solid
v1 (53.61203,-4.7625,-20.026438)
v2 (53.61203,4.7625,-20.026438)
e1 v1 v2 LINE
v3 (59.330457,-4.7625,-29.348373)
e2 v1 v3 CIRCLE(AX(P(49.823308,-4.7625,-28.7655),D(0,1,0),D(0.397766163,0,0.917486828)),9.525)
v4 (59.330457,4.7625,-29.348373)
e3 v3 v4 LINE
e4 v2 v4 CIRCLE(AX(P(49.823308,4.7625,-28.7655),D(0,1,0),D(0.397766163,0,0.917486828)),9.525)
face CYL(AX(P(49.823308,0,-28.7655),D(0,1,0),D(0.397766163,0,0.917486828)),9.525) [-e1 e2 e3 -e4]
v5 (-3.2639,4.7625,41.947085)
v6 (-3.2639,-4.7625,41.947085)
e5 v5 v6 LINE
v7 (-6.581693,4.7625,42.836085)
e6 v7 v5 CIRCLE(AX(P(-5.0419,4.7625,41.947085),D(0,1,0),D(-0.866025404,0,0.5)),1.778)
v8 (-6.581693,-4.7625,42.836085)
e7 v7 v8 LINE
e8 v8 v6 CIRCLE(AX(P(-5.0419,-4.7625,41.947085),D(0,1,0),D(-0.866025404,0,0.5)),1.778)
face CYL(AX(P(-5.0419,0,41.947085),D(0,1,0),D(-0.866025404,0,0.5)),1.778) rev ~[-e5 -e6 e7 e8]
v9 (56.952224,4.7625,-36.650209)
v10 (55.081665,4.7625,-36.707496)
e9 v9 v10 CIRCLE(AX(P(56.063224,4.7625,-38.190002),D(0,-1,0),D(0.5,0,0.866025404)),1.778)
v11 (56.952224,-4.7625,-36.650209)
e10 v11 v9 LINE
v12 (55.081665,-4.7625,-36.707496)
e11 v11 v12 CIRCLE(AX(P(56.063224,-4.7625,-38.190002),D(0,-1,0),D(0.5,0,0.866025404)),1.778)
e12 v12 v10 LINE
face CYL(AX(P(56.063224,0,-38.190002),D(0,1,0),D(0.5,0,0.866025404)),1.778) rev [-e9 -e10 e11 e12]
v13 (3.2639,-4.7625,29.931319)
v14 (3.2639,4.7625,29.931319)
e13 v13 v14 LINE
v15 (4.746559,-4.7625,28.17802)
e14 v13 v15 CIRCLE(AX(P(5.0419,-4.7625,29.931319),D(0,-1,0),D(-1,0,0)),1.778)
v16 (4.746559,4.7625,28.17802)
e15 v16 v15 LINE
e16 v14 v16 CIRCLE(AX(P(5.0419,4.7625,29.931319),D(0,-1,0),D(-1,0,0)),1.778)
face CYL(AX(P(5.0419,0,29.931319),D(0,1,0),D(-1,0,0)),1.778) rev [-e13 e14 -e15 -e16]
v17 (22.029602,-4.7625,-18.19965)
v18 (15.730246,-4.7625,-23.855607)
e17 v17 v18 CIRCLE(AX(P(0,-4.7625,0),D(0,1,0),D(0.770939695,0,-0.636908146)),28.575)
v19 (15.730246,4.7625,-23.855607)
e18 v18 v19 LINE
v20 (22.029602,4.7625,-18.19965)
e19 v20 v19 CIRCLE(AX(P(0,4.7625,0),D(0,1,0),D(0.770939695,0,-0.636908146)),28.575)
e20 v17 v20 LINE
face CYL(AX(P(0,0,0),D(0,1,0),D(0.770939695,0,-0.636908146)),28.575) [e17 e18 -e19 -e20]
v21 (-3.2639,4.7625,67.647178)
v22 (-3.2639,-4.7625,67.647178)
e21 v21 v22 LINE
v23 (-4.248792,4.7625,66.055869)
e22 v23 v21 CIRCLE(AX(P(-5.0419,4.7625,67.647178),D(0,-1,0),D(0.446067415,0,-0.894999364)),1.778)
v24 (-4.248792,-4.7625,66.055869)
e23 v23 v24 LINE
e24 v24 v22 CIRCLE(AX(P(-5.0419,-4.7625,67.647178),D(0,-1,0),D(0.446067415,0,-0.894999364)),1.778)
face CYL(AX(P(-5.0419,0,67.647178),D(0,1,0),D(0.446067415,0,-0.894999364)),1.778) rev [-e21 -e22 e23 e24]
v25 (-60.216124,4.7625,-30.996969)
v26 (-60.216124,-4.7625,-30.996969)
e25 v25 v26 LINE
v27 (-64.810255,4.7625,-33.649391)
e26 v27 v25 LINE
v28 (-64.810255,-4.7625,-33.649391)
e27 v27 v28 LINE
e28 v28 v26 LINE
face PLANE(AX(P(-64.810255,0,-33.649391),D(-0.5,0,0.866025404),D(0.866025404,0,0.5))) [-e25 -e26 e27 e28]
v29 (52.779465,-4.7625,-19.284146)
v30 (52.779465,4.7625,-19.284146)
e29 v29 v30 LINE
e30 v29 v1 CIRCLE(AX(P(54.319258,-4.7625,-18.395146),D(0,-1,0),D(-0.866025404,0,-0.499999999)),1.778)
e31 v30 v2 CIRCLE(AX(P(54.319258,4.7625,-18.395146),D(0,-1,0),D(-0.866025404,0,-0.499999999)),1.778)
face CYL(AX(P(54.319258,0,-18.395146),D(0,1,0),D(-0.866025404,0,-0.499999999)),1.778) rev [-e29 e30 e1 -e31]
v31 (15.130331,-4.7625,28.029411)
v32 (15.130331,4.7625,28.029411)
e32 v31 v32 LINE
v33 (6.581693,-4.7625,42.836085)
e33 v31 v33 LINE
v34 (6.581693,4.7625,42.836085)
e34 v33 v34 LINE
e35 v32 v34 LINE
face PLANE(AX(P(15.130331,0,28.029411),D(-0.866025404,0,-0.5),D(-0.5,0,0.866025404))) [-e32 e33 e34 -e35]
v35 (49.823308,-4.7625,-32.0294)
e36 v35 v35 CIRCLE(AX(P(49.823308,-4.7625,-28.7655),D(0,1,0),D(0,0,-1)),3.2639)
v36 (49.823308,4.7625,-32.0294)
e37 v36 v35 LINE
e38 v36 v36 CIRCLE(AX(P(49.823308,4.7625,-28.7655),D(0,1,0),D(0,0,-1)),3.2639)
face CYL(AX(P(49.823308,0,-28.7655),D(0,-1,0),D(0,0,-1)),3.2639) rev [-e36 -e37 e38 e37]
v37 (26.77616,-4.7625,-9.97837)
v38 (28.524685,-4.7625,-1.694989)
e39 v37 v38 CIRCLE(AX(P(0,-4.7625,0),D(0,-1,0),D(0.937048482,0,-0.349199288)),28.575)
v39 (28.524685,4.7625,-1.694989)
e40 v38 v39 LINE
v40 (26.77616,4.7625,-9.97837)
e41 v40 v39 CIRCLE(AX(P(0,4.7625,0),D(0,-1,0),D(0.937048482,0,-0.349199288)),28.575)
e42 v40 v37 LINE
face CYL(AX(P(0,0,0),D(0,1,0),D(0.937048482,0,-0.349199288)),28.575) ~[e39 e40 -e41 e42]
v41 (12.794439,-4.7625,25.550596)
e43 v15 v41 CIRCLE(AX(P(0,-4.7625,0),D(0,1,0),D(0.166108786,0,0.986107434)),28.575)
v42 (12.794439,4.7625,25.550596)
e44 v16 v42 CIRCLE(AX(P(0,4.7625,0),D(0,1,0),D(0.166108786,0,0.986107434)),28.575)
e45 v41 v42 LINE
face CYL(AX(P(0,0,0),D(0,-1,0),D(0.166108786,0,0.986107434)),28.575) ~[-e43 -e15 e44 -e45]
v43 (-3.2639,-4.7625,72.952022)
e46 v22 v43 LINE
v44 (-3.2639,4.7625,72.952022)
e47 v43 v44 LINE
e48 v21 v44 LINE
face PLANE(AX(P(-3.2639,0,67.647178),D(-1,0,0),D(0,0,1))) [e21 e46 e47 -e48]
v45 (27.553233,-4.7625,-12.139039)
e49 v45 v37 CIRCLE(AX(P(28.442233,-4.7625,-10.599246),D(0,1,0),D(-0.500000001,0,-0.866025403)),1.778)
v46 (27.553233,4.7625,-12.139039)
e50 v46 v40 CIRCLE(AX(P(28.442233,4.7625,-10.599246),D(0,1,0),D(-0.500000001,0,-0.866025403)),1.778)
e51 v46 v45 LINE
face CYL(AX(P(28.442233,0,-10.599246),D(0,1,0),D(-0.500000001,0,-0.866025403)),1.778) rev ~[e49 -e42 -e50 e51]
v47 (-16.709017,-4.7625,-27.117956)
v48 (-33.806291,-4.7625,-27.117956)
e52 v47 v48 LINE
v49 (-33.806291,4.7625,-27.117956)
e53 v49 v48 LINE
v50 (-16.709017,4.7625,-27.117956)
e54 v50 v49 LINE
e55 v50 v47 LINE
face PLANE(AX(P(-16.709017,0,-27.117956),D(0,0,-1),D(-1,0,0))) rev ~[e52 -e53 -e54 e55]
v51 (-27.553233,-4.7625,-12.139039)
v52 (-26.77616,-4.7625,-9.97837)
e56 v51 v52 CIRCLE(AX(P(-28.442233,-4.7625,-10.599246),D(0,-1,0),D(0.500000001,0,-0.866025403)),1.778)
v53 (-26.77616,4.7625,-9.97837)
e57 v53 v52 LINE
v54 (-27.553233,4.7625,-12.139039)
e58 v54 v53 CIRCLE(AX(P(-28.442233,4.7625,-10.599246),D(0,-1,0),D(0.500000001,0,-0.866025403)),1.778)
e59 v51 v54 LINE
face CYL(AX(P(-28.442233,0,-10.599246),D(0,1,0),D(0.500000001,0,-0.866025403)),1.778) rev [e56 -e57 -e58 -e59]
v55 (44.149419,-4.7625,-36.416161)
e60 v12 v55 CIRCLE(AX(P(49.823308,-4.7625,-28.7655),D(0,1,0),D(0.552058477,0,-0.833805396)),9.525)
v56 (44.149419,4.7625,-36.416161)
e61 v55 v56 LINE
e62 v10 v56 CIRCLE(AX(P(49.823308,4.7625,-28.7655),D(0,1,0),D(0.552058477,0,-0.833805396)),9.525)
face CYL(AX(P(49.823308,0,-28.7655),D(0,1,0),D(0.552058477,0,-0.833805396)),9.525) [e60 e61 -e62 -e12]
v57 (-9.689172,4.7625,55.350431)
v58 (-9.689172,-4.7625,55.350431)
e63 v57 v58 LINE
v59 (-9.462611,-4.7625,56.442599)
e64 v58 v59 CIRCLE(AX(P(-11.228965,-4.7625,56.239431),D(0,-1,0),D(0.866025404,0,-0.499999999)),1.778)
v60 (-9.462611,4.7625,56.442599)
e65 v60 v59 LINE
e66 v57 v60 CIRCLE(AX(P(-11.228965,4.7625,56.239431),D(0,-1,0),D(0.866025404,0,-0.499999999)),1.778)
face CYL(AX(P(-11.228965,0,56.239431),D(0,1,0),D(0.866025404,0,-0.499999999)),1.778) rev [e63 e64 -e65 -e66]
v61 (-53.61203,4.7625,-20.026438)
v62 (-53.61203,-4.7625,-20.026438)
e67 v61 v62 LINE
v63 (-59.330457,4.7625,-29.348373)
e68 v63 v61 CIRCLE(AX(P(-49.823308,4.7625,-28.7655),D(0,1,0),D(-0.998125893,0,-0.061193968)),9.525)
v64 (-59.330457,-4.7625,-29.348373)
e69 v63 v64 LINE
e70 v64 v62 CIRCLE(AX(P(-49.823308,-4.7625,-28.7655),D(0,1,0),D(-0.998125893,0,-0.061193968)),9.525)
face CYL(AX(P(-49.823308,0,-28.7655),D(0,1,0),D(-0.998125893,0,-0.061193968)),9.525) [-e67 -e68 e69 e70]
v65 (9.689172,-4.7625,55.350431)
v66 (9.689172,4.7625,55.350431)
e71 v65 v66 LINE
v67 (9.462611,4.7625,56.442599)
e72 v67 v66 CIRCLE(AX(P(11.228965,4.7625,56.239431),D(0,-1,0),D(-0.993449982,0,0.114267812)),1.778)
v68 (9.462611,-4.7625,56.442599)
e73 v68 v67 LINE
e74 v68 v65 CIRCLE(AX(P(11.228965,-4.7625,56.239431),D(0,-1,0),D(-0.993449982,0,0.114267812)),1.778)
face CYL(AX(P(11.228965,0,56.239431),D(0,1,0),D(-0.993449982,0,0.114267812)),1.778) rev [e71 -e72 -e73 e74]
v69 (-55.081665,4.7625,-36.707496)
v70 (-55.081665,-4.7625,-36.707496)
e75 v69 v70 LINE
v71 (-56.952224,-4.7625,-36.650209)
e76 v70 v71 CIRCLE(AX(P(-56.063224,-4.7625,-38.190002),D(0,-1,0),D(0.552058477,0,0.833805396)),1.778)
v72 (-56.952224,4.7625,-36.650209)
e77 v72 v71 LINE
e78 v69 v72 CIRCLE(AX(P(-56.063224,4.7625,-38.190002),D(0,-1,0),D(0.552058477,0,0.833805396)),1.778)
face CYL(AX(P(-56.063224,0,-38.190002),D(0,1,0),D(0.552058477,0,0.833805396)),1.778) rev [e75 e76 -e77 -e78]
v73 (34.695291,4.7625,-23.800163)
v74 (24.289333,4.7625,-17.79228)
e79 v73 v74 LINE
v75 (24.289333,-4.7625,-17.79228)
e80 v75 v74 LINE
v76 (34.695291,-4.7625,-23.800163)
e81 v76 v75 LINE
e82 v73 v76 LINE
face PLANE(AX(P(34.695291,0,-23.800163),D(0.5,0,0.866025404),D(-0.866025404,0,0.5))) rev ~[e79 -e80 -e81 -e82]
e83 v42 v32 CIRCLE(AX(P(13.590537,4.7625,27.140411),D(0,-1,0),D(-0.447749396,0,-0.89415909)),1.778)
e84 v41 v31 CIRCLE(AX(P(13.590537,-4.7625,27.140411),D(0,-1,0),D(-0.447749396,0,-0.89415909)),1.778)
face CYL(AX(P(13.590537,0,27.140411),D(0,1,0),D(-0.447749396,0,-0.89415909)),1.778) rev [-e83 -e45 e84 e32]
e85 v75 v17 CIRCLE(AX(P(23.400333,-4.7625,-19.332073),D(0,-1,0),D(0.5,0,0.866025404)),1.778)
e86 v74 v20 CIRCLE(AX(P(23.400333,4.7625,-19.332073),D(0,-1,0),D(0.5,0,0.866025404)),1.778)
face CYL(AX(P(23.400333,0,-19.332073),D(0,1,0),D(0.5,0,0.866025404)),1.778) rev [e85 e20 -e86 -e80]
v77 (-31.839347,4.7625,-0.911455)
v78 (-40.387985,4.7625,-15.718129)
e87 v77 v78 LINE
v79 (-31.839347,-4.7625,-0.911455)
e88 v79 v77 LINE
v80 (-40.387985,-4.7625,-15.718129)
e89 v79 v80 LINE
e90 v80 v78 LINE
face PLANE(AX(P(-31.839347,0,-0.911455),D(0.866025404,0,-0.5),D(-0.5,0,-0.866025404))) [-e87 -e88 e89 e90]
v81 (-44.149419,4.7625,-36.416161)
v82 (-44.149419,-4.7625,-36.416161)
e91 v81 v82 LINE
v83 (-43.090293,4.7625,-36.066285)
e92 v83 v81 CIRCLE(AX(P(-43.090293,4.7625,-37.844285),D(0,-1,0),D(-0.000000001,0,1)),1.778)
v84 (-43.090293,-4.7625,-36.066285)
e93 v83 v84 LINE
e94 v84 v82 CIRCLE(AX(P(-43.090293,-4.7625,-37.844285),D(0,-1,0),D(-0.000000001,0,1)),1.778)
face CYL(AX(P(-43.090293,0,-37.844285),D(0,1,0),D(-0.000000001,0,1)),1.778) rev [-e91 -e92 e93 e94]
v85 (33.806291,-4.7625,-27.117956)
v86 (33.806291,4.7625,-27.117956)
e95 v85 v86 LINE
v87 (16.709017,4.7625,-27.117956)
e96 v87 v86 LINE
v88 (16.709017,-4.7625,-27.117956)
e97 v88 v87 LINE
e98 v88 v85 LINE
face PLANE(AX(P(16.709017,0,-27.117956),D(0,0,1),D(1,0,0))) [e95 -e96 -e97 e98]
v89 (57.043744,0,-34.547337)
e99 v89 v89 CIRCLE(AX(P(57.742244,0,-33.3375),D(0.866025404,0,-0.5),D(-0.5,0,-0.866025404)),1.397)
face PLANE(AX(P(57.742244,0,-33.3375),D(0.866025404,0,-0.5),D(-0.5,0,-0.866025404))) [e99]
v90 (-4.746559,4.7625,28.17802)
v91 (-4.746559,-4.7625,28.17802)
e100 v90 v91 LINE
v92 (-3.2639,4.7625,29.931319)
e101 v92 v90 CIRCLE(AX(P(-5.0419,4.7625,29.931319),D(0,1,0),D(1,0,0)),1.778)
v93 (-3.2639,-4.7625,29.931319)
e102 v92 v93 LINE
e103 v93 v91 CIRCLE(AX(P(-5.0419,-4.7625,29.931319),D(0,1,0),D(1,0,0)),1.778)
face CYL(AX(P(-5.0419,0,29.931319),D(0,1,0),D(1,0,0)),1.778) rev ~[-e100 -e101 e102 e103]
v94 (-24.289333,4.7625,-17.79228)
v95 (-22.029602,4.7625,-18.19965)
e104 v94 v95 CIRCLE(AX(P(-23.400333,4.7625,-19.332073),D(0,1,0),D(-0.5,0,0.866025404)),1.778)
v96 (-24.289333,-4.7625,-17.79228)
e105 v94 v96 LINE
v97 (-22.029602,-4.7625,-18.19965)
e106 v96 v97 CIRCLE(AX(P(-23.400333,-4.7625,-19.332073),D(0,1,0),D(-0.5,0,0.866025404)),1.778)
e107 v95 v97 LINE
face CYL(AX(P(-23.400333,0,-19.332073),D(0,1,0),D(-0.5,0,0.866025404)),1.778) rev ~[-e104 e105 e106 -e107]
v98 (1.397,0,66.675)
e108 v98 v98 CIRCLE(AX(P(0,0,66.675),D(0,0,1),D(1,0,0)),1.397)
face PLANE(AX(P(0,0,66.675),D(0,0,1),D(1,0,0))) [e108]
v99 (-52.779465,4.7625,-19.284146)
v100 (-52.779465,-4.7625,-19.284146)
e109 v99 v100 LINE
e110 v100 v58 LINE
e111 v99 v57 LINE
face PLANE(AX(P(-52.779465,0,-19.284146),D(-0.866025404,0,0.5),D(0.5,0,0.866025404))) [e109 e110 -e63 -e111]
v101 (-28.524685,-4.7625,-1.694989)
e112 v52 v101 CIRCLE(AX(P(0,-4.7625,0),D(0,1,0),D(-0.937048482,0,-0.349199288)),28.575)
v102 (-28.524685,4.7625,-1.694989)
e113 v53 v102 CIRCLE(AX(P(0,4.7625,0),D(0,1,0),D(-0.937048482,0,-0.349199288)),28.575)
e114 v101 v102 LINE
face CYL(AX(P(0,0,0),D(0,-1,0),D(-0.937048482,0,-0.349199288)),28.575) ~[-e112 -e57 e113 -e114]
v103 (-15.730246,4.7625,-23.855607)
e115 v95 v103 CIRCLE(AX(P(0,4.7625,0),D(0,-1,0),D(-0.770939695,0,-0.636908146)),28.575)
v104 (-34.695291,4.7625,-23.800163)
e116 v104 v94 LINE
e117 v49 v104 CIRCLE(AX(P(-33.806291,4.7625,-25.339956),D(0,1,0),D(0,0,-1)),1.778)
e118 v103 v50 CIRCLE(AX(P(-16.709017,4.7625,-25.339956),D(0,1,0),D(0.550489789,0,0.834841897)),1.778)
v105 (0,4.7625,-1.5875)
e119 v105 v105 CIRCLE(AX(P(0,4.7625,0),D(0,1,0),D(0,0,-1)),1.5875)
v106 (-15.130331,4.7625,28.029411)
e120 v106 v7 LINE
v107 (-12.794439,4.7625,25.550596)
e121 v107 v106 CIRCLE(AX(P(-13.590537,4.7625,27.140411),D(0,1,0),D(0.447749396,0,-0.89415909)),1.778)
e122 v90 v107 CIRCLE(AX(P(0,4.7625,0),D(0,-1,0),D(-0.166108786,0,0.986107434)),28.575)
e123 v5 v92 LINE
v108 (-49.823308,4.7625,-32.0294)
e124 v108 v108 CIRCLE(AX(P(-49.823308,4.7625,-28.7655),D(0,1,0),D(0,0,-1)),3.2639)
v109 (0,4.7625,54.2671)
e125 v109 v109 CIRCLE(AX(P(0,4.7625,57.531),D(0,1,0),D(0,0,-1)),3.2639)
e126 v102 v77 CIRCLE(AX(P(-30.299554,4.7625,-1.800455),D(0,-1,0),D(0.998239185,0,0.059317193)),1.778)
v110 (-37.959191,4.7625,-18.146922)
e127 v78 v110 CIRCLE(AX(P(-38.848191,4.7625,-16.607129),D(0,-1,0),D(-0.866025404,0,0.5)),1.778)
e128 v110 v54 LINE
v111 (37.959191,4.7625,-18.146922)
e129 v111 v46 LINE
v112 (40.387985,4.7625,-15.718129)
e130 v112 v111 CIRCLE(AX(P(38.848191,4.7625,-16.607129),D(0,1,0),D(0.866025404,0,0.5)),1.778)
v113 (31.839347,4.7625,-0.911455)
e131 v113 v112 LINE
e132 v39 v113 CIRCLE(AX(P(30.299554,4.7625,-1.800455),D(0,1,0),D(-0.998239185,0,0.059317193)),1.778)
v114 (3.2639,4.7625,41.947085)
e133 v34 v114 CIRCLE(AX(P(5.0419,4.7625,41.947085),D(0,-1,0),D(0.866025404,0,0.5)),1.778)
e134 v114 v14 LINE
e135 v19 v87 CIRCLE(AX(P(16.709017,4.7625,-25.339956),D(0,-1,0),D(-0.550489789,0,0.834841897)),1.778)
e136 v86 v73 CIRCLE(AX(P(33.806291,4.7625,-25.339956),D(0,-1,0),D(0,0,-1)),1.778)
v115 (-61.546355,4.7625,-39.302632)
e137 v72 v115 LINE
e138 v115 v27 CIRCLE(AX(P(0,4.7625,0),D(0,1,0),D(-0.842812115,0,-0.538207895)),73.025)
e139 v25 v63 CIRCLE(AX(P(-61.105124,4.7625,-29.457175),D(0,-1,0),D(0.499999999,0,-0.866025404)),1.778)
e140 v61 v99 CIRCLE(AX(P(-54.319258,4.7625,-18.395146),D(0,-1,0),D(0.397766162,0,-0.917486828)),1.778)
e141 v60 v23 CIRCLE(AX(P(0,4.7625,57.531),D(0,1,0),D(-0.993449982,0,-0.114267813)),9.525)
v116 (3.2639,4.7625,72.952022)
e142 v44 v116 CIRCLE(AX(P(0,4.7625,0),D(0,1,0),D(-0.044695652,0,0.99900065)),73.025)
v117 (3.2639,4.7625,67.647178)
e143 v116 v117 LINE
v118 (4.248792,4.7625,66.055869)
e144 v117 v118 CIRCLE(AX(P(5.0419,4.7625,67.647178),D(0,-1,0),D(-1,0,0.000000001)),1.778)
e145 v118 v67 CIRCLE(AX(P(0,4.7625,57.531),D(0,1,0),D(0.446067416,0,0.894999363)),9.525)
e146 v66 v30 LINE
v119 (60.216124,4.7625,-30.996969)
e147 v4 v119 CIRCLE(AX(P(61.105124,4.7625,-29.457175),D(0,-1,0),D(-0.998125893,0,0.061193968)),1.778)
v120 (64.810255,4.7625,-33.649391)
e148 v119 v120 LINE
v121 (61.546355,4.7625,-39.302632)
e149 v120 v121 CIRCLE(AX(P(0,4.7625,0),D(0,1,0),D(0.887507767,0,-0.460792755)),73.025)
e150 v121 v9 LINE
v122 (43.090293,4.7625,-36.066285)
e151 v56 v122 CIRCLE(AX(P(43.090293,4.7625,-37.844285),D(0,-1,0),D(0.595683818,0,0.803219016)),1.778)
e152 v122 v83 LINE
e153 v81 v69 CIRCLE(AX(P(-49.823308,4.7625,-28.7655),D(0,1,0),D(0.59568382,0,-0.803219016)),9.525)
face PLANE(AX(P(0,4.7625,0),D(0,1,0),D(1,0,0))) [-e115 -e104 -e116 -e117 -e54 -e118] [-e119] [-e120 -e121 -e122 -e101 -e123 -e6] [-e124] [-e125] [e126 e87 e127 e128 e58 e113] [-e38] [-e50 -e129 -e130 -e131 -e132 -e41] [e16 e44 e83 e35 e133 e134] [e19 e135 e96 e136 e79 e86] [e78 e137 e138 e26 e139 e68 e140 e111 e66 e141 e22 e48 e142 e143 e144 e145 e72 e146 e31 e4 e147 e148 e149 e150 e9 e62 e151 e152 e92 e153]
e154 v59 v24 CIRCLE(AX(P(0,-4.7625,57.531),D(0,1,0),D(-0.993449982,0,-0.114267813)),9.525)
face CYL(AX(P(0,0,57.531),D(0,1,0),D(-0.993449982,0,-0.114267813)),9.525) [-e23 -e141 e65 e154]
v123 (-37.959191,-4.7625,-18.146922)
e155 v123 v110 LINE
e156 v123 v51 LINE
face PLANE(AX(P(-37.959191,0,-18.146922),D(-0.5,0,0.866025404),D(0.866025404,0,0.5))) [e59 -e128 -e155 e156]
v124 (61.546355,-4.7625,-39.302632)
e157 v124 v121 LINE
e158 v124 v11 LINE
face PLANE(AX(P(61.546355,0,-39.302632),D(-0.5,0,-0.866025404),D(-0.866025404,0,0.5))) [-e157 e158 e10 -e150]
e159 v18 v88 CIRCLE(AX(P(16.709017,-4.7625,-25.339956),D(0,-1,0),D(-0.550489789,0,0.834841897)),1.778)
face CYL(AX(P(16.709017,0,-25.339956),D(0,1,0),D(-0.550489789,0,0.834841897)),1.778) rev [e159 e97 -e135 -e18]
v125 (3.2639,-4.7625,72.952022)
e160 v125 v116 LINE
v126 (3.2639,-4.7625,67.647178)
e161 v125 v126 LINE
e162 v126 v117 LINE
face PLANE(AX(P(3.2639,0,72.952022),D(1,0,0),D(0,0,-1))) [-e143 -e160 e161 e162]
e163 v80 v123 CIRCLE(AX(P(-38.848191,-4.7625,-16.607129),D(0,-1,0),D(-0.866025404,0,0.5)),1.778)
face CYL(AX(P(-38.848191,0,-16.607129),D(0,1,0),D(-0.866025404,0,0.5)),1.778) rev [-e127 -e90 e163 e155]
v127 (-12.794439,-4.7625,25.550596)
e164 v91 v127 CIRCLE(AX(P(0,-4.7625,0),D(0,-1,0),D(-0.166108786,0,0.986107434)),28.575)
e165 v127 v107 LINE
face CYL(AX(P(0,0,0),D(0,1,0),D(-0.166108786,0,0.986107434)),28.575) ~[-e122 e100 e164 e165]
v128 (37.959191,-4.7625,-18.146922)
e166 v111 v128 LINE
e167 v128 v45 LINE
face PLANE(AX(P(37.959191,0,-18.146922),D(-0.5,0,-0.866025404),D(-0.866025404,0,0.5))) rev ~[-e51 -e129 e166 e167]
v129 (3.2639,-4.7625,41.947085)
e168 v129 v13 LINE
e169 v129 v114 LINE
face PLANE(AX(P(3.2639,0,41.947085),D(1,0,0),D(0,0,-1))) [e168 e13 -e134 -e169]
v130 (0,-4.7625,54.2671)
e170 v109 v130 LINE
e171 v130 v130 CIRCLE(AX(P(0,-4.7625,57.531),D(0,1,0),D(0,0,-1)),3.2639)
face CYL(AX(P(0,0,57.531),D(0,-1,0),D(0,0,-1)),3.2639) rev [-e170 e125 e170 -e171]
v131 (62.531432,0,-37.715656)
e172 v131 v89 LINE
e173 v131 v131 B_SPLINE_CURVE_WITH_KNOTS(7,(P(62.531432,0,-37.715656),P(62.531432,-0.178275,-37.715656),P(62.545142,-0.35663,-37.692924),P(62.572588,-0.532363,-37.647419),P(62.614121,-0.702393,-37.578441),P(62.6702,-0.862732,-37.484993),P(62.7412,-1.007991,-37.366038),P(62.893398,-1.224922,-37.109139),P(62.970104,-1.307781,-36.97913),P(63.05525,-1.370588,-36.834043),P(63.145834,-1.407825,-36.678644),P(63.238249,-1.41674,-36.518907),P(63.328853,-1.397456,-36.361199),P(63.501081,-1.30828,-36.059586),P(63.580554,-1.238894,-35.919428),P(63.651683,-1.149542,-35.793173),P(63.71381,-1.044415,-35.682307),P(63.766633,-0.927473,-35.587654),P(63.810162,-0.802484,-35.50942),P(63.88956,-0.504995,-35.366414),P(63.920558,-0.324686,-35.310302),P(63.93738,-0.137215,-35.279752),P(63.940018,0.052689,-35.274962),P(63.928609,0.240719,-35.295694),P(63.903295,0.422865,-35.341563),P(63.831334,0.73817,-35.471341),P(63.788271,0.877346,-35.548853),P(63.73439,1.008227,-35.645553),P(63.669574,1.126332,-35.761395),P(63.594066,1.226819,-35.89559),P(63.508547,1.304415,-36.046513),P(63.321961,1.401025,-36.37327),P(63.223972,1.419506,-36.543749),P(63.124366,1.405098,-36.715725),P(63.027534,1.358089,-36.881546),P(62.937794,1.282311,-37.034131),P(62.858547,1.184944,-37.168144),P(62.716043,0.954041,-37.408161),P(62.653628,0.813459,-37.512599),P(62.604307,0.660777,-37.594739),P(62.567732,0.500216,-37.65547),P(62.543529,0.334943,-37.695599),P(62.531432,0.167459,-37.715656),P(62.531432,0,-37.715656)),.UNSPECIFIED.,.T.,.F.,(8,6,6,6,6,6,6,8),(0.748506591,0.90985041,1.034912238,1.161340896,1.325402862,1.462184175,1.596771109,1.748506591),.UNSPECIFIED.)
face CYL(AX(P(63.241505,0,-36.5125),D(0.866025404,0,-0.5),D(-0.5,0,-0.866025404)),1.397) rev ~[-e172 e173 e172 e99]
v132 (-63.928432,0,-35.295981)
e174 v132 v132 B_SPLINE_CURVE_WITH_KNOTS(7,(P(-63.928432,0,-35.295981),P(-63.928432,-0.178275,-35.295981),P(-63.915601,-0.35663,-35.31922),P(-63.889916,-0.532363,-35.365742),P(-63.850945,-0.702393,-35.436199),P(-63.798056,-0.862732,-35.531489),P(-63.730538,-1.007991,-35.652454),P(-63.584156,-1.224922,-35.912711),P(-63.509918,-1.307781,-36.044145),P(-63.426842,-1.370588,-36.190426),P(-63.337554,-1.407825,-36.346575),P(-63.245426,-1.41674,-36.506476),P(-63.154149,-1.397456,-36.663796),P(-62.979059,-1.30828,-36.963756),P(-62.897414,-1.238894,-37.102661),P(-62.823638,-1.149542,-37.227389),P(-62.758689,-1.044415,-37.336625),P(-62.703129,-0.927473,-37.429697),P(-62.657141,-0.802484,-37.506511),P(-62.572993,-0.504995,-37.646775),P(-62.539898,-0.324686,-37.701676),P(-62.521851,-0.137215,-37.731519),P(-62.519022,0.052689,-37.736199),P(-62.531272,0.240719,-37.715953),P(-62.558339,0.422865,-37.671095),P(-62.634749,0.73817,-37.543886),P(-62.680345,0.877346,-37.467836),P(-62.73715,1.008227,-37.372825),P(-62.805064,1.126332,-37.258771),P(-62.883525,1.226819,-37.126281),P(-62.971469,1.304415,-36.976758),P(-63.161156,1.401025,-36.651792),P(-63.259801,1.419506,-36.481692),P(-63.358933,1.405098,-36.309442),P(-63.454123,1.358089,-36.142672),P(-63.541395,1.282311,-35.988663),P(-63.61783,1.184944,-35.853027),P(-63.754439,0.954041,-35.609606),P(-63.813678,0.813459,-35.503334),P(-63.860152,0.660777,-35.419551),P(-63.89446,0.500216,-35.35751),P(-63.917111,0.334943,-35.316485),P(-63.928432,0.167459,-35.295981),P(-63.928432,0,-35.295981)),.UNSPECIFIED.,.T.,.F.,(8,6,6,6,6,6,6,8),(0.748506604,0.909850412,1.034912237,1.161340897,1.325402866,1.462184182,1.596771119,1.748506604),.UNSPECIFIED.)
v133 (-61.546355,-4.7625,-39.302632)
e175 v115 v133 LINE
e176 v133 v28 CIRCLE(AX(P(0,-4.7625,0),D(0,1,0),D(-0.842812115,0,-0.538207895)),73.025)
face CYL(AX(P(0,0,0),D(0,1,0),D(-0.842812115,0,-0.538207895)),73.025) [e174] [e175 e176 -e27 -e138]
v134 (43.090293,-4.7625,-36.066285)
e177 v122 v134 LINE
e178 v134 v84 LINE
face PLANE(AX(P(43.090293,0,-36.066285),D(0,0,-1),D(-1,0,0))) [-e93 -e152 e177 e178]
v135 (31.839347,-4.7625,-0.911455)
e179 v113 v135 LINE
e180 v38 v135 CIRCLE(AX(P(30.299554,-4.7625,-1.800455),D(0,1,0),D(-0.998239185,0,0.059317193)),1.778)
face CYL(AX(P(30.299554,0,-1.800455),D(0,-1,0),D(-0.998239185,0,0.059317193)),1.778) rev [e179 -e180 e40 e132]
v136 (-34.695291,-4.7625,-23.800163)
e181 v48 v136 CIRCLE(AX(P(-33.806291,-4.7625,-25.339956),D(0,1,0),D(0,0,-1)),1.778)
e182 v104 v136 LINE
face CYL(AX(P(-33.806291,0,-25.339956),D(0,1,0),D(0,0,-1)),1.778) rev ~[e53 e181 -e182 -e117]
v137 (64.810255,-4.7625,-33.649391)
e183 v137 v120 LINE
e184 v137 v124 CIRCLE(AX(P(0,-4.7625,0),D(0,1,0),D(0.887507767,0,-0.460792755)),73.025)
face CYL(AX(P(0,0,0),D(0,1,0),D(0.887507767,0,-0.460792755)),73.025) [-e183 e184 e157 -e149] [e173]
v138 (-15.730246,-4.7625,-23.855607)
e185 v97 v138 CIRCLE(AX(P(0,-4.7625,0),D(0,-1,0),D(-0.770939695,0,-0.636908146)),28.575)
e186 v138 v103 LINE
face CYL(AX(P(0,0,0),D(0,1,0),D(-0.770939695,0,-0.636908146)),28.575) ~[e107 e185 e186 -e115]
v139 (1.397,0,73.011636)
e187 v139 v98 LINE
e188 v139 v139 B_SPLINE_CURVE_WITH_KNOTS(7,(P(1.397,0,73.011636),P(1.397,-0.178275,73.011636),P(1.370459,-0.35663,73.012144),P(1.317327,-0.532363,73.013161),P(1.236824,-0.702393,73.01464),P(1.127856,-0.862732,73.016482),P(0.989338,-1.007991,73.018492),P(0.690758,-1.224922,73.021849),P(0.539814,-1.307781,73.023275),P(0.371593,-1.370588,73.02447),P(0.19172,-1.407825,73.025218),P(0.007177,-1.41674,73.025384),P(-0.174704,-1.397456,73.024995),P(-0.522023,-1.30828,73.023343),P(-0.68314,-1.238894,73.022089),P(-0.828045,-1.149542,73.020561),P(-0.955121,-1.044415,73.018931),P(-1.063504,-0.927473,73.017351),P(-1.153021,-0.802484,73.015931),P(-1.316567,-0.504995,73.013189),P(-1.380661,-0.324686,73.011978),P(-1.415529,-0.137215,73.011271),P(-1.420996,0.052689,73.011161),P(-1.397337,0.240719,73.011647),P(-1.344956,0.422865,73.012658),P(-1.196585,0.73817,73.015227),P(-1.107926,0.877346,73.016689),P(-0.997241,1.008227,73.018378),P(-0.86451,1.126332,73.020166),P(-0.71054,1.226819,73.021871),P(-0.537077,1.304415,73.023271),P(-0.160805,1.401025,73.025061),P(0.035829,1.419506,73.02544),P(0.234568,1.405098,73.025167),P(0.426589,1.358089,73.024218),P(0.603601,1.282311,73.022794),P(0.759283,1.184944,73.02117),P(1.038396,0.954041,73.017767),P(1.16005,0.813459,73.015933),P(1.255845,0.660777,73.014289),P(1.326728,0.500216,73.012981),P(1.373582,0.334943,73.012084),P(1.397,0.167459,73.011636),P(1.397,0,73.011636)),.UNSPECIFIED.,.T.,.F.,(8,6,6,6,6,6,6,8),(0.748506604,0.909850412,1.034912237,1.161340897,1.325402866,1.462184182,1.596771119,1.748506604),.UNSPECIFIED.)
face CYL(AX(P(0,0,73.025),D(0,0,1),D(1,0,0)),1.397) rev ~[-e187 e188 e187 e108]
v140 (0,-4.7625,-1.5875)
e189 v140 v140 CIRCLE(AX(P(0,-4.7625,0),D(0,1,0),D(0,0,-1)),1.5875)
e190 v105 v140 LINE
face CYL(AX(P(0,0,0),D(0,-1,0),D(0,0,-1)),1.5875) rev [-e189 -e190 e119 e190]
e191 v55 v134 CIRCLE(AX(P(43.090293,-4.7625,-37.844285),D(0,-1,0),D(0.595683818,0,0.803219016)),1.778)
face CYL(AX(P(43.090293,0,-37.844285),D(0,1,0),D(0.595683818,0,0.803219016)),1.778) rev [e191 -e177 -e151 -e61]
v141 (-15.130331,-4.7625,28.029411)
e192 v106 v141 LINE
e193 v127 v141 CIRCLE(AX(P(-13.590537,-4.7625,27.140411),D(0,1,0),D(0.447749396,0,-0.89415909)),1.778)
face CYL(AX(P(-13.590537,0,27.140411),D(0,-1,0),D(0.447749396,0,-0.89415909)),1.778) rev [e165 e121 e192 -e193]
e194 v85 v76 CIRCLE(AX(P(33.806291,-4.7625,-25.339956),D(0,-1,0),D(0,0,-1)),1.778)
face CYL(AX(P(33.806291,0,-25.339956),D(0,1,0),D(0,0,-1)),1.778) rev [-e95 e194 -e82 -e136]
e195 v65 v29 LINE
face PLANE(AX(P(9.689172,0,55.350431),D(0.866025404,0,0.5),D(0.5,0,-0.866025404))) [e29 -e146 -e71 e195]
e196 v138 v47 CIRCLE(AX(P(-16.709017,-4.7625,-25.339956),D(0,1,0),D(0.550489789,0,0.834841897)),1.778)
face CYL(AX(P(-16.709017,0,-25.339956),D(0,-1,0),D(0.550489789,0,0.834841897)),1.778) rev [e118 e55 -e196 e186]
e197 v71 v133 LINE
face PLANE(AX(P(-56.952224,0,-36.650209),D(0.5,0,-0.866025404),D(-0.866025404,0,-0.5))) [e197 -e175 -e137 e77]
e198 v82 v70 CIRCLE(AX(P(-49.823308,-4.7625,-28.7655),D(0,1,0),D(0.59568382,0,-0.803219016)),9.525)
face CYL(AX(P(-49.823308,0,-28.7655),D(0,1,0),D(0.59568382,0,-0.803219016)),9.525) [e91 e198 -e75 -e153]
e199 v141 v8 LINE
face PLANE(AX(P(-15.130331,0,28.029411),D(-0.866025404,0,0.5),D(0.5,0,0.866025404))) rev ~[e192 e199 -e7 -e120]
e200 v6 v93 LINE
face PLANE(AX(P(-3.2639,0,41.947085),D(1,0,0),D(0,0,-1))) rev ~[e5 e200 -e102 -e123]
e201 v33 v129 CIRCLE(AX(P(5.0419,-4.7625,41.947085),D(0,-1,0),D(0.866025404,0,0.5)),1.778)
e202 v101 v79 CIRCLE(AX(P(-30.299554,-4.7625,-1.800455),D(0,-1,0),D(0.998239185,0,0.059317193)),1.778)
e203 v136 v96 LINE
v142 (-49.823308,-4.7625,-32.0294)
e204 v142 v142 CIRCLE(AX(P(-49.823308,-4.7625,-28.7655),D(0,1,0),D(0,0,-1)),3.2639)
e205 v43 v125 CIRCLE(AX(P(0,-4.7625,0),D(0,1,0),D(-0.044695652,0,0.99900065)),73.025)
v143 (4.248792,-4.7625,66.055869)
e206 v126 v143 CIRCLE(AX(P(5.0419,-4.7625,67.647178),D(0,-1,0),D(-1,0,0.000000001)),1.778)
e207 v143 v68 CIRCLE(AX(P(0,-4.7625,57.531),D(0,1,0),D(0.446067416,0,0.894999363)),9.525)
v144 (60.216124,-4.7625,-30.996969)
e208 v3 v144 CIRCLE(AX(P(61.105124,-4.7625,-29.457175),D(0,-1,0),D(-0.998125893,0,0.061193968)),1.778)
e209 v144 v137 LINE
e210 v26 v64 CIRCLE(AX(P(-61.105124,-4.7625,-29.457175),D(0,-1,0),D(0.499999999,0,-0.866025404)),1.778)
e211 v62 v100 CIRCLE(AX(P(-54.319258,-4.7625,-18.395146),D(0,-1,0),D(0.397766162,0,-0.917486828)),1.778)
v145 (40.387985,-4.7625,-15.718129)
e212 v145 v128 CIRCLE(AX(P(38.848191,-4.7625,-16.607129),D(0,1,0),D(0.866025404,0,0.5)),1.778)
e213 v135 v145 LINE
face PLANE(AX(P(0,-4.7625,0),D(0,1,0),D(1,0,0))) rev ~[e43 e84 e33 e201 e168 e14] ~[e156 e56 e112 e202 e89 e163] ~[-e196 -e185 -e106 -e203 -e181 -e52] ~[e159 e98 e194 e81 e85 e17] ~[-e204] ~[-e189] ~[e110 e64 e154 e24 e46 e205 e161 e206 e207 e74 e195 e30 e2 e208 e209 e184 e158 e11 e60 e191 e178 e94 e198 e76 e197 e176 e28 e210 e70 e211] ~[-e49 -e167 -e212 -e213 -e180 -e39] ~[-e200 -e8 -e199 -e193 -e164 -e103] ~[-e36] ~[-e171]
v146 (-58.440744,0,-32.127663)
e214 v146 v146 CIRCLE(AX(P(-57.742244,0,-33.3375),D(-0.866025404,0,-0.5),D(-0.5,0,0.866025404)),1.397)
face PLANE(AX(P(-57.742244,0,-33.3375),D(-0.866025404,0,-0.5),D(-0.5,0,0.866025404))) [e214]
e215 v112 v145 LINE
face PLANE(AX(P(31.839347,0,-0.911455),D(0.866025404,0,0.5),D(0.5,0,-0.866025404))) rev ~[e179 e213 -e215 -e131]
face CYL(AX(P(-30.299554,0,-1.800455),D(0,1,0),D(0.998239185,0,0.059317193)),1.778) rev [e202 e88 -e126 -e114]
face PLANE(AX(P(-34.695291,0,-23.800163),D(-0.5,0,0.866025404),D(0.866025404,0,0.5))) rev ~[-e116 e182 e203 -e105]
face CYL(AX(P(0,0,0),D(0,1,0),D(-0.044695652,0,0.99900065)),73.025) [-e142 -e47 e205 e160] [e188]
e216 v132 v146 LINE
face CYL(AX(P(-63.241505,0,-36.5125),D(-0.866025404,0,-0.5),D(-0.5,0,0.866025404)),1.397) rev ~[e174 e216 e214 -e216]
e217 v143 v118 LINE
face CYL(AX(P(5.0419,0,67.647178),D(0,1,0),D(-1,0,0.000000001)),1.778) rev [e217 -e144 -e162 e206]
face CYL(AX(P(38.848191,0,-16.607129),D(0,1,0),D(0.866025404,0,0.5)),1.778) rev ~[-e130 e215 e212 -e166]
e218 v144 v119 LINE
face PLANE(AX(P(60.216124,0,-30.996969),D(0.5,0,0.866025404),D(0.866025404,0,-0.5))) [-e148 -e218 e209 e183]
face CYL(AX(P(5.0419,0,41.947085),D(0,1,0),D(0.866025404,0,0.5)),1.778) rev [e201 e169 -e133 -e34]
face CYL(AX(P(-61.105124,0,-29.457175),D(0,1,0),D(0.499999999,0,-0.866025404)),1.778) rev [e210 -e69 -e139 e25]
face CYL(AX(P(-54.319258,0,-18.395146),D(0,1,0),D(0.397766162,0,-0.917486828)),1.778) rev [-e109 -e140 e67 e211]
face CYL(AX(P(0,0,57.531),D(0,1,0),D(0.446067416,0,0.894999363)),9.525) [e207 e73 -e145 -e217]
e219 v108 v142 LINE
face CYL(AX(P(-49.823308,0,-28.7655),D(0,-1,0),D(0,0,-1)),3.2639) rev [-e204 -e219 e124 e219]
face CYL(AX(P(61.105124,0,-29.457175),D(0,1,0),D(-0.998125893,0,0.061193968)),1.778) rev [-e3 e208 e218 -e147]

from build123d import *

# Parameters (mm, degrees)
SKETCH1_R           = 3.2639
SKETCH1_R_2         = 1.5875
BOSS_EXTRUDE1_DEPTH = 4.7625
SKETCH3_R           = 1.397
CUT_EXTRUDE1_DEPTH  = 6.35
CIRPATTERN1_COUNT   = 3


with BuildPart() as part:
    # Sketch1 → Boss-Extrude1 (new, symmetric)
    with BuildSketch(Plane(origin=(0, 0, 0), x_dir=(1, 0, 0), z_dir=(0, 1, 0))):
        with BuildLine():
            Line((-3.2639, -67.647177805), (-3.2639, -72.952022465))
            ThreePointArc((-3.2639, -72.952022465), (0, -73.025), (3.2639, -72.952022465))
            Line((3.2639, -72.952022465), (3.2639, -67.647177805))
            ThreePointArc((3.2639, -67.647177805), (3.530041907, -66.711459307), (4.248792135, -66.055868937))
            ThreePointArc((4.248792135, -66.055868937), (8.372836069, -62.072061677), (9.46261108, -56.442599084))
            ThreePointArc((9.46261108, -56.442599084), (9.488028557, -55.87828858), (9.68917198, -55.350430914))
            Line((9.68917198, -55.350430914), (52.779465272, 19.28414638))
            ThreePointArc((52.779465272, 19.28414638), (53.136031709, 19.722270528), (53.612030203, 20.026437961))
            ThreePointArc((53.612030203, 20.026437961), (57.942400312, 23.784942101), (59.330456636, 29.348372544))
            ThreePointArc((59.330456636, 29.348372544), (59.538839437, 30.298623685), (60.216124474, 30.996968587))
            Line((60.216124474, 30.996968587), (64.810254712, 33.649390917))
            ThreePointArc((64.810254712, 33.649390917), (63.241505111, 36.5125), (61.546354712, 39.302631548))
            Line((61.546354712, 39.302631548), (56.952224474, 36.650209218))
            ThreePointArc((56.952224474, 36.650209218), (56.00879753, 36.412835622), (55.081664501, 36.707496393))
            ThreePointArc((55.081664501, 36.707496393), (49.569564243, 38.287119576), (44.149419123, 36.416161123))
            ThreePointArc((44.149419123, 36.416161123), (43.648003152, 36.156018052), (43.090293292, 36.066284533))
            Line((43.090293292, 36.066284533), (-43.090293292, 36.066284533))
            ThreePointArc((-43.090293292, 36.066284533), (-43.648003152, 36.156018052), (-44.149419123, 36.416161123))
            ThreePointArc((-44.149419123, 36.416161123), (-49.569564243, 38.287119576), (-55.081664501, 36.707496393))
            ThreePointArc((-55.081664501, 36.707496393), (-56.00879753, 36.412835622), (-56.952224474, 36.650209218))
            Line((-56.952224474, 36.650209218), (-61.546354712, 39.302631548))
            ThreePointArc((-61.546354712, 39.302631548), (-63.241505111, 36.5125), (-64.810254712, 33.649390917))
            Line((-64.810254712, 33.649390917), (-60.216124474, 30.996968587))
            ThreePointArc((-60.216124474, 30.996968587), (-59.538839437, 30.298623685), (-59.330456636, 29.348372544))
            ThreePointArc((-59.330456636, 29.348372544), (-57.942400312, 23.784942101), (-53.612030203, 20.026437961))
            ThreePointArc((-53.612030203, 20.026437961), (-53.136031709, 19.722270528), (-52.779465272, 19.28414638))
            Line((-52.779465272, 19.28414638), (-9.68917198, -55.350430914))
            ThreePointArc((-9.68917198, -55.350430914), (-9.488028557, -55.87828858), (-9.46261108, -56.442599084))
            ThreePointArc((-9.46261108, -56.442599084), (-8.372836069, -62.072061677), (-4.248792135, -66.055868937))
            ThreePointArc((-4.248792135, -66.055868937), (-3.530041907, -66.711459307), (-3.2639, -67.647177805))
        make_face()
        with Locations(Location((0, -57.531, 0), (0, 0, 90))):
            Circle(SKETCH1_R, mode=Mode.SUBTRACT)
        with Locations(Location((-49.823307505, 28.7655, 0), (0, 0, 90))):
            Circle(SKETCH1_R, mode=Mode.SUBTRACT)
        with Locations(Location((49.823307505, 28.7655, 0), (0, 0, 90))):
            Circle(SKETCH1_R, mode=Mode.SUBTRACT)
        with Locations(Location((0, 0, 0), (0, 0, 90))):
            Circle(SKETCH1_R_2, mode=Mode.SUBTRACT)
        with BuildLine():
            Line((3.2639, -41.947085229), (3.2639, -29.931318938))
            ThreePointArc((3.2639, -29.931318938), (3.684254787, -28.783240772), (4.746558577, -28.178019921))
            ThreePointArc((4.746558577, -28.178019921), (8.86834191, -27.164004432), (12.794439011, -25.550595989))
            ThreePointArc((12.794439011, -25.550595989), (14.884524009, -25.921032832), (15.130330606, -28.029410851))
            Line((15.130330606, -28.029410851), (6.581693168, -42.836085229))
            ThreePointArc((6.581693168, -42.836085229), (4.581719738, -43.664501348), (3.2639, -41.947085229))
        make_face(mode=Mode.SUBTRACT)
        with BuildLine():
            Line((-3.2639, -41.947085229), (-3.2639, -29.931318938))
            ThreePointArc((-3.2639, -29.931318938), (-3.684254787, -28.783240772), (-4.746558577, -28.178019921))
            ThreePointArc((-4.746558577, -28.178019921), (-8.86834191, -27.164004432), (-12.794439011, -25.550595989))
            ThreePointArc((-12.794439011, -25.550595989), (-14.884524009, -25.921032832), (-15.130330606, -28.029410851))
            Line((-15.130330606, -28.029410851), (-6.581693168, -42.836085229))
            ThreePointArc((-6.581693168, -42.836085229), (-4.581719738, -43.664501348), (-3.2639, -41.947085229))
        make_face(mode=Mode.SUBTRACT)
        with BuildLine():
            Line((-34.695291423, 23.80016293), (-24.289332569, 17.792279785))
            ThreePointArc((-24.289332569, 17.792279785), (-23.084890319, 17.582278626), (-22.029601791, 18.199650269))
            ThreePointArc((-22.029601791, 18.199650269), (-19.090546952, 21.262211599), (-15.730245703, 23.855607205))
            ThreePointArc((-15.730245703, 23.855607205), (-15.00601092, 25.850892331), (-16.709016547, 27.117956098))
            Line((-16.709016547, 27.117956098), (-33.806291423, 27.117956098))
            ThreePointArc((-33.806291423, 27.117956098), (-35.523707542, 25.80013636), (-34.695291423, 23.80016293))
        make_face(mode=Mode.SUBTRACT)
        with BuildLine():
            Line((-37.959191423, 18.146922299), (-27.553232569, 12.139039154))
            ThreePointArc((-27.553232569, 12.139039154), (-26.769145106, 11.200962147), (-26.776160369, 9.978369652))
            ThreePointArc((-26.776160369, 9.978369652), (-27.958888861, 5.901792833), (-28.524684714, 1.694988784))
            ThreePointArc((-28.524684714, 1.694988784), (-29.890534929, 0.070140501), (-31.839347153, 0.911454753))
            Line((-31.839347153, 0.911454753), (-40.387984591, 15.718129131))
            ThreePointArc((-40.387984591, 15.718129131), (-40.10542728, 17.864364988), (-37.959191423, 18.146922299))
        make_face(mode=Mode.SUBTRACT)
        with BuildLine():
            Line((37.959191423, 18.146922299), (27.553232569, 12.139039154))
            ThreePointArc((27.553232569, 12.139039154), (26.769145106, 11.200962147), (26.776160369, 9.978369652))
            ThreePointArc((26.776160369, 9.978369652), (27.958888861, 5.901792833), (28.524684714, 1.694988784))
            ThreePointArc((28.524684714, 1.694988784), (29.890534929, 0.070140501), (31.839347153, 0.911454753))
            Line((31.839347153, 0.911454753), (40.387984591, 15.718129131))
            ThreePointArc((40.387984591, 15.718129131), (40.10542728, 17.864364988), (37.959191423, 18.146922299))
        make_face(mode=Mode.SUBTRACT)
        with BuildLine():
            Line((34.695291423, 23.80016293), (24.289332569, 17.792279785))
            ThreePointArc((24.289332569, 17.792279785), (23.084890319, 17.582278626), (22.029601791, 18.199650269))
            ThreePointArc((22.029601791, 18.199650269), (19.090546952, 21.262211599), (15.730245703, 23.855607205))
            ThreePointArc((15.730245703, 23.855607205), (15.00601092, 25.850892331), (16.709016547, 27.117956098))
            Line((16.709016547, 27.117956098), (33.806291423, 27.117956098))
            ThreePointArc((33.806291423, 27.117956098), (35.523707542, 25.80013636), (34.695291423, 23.80016293))
        make_face(mode=Mode.SUBTRACT)
    extrude(amount=BOSS_EXTRUDE1_DEPTH, both=True)

    # Sketch3 → Cut-Extrude1 (cut)
    with BuildSketch(Plane.XY.offset(73.025)):
        Circle(SKETCH3_R)
    cut_extrude1 = extrude(amount=-CUT_EXTRUDE1_DEPTH, mode=Mode.SUBTRACT)

    # CirPattern1: Cut-Extrude1 ×3 about axis
    cirpattern1_axis = Axis((0, 0, 0), (0, 1, 0))
    for i in range(1, CIRPATTERN1_COUNT):
        add(cut_extrude1.rotate(cirpattern1_axis, i * 360 / CIRPATTERN1_COUNT), mode=Mode.SUBTRACT)


solid = part.part
